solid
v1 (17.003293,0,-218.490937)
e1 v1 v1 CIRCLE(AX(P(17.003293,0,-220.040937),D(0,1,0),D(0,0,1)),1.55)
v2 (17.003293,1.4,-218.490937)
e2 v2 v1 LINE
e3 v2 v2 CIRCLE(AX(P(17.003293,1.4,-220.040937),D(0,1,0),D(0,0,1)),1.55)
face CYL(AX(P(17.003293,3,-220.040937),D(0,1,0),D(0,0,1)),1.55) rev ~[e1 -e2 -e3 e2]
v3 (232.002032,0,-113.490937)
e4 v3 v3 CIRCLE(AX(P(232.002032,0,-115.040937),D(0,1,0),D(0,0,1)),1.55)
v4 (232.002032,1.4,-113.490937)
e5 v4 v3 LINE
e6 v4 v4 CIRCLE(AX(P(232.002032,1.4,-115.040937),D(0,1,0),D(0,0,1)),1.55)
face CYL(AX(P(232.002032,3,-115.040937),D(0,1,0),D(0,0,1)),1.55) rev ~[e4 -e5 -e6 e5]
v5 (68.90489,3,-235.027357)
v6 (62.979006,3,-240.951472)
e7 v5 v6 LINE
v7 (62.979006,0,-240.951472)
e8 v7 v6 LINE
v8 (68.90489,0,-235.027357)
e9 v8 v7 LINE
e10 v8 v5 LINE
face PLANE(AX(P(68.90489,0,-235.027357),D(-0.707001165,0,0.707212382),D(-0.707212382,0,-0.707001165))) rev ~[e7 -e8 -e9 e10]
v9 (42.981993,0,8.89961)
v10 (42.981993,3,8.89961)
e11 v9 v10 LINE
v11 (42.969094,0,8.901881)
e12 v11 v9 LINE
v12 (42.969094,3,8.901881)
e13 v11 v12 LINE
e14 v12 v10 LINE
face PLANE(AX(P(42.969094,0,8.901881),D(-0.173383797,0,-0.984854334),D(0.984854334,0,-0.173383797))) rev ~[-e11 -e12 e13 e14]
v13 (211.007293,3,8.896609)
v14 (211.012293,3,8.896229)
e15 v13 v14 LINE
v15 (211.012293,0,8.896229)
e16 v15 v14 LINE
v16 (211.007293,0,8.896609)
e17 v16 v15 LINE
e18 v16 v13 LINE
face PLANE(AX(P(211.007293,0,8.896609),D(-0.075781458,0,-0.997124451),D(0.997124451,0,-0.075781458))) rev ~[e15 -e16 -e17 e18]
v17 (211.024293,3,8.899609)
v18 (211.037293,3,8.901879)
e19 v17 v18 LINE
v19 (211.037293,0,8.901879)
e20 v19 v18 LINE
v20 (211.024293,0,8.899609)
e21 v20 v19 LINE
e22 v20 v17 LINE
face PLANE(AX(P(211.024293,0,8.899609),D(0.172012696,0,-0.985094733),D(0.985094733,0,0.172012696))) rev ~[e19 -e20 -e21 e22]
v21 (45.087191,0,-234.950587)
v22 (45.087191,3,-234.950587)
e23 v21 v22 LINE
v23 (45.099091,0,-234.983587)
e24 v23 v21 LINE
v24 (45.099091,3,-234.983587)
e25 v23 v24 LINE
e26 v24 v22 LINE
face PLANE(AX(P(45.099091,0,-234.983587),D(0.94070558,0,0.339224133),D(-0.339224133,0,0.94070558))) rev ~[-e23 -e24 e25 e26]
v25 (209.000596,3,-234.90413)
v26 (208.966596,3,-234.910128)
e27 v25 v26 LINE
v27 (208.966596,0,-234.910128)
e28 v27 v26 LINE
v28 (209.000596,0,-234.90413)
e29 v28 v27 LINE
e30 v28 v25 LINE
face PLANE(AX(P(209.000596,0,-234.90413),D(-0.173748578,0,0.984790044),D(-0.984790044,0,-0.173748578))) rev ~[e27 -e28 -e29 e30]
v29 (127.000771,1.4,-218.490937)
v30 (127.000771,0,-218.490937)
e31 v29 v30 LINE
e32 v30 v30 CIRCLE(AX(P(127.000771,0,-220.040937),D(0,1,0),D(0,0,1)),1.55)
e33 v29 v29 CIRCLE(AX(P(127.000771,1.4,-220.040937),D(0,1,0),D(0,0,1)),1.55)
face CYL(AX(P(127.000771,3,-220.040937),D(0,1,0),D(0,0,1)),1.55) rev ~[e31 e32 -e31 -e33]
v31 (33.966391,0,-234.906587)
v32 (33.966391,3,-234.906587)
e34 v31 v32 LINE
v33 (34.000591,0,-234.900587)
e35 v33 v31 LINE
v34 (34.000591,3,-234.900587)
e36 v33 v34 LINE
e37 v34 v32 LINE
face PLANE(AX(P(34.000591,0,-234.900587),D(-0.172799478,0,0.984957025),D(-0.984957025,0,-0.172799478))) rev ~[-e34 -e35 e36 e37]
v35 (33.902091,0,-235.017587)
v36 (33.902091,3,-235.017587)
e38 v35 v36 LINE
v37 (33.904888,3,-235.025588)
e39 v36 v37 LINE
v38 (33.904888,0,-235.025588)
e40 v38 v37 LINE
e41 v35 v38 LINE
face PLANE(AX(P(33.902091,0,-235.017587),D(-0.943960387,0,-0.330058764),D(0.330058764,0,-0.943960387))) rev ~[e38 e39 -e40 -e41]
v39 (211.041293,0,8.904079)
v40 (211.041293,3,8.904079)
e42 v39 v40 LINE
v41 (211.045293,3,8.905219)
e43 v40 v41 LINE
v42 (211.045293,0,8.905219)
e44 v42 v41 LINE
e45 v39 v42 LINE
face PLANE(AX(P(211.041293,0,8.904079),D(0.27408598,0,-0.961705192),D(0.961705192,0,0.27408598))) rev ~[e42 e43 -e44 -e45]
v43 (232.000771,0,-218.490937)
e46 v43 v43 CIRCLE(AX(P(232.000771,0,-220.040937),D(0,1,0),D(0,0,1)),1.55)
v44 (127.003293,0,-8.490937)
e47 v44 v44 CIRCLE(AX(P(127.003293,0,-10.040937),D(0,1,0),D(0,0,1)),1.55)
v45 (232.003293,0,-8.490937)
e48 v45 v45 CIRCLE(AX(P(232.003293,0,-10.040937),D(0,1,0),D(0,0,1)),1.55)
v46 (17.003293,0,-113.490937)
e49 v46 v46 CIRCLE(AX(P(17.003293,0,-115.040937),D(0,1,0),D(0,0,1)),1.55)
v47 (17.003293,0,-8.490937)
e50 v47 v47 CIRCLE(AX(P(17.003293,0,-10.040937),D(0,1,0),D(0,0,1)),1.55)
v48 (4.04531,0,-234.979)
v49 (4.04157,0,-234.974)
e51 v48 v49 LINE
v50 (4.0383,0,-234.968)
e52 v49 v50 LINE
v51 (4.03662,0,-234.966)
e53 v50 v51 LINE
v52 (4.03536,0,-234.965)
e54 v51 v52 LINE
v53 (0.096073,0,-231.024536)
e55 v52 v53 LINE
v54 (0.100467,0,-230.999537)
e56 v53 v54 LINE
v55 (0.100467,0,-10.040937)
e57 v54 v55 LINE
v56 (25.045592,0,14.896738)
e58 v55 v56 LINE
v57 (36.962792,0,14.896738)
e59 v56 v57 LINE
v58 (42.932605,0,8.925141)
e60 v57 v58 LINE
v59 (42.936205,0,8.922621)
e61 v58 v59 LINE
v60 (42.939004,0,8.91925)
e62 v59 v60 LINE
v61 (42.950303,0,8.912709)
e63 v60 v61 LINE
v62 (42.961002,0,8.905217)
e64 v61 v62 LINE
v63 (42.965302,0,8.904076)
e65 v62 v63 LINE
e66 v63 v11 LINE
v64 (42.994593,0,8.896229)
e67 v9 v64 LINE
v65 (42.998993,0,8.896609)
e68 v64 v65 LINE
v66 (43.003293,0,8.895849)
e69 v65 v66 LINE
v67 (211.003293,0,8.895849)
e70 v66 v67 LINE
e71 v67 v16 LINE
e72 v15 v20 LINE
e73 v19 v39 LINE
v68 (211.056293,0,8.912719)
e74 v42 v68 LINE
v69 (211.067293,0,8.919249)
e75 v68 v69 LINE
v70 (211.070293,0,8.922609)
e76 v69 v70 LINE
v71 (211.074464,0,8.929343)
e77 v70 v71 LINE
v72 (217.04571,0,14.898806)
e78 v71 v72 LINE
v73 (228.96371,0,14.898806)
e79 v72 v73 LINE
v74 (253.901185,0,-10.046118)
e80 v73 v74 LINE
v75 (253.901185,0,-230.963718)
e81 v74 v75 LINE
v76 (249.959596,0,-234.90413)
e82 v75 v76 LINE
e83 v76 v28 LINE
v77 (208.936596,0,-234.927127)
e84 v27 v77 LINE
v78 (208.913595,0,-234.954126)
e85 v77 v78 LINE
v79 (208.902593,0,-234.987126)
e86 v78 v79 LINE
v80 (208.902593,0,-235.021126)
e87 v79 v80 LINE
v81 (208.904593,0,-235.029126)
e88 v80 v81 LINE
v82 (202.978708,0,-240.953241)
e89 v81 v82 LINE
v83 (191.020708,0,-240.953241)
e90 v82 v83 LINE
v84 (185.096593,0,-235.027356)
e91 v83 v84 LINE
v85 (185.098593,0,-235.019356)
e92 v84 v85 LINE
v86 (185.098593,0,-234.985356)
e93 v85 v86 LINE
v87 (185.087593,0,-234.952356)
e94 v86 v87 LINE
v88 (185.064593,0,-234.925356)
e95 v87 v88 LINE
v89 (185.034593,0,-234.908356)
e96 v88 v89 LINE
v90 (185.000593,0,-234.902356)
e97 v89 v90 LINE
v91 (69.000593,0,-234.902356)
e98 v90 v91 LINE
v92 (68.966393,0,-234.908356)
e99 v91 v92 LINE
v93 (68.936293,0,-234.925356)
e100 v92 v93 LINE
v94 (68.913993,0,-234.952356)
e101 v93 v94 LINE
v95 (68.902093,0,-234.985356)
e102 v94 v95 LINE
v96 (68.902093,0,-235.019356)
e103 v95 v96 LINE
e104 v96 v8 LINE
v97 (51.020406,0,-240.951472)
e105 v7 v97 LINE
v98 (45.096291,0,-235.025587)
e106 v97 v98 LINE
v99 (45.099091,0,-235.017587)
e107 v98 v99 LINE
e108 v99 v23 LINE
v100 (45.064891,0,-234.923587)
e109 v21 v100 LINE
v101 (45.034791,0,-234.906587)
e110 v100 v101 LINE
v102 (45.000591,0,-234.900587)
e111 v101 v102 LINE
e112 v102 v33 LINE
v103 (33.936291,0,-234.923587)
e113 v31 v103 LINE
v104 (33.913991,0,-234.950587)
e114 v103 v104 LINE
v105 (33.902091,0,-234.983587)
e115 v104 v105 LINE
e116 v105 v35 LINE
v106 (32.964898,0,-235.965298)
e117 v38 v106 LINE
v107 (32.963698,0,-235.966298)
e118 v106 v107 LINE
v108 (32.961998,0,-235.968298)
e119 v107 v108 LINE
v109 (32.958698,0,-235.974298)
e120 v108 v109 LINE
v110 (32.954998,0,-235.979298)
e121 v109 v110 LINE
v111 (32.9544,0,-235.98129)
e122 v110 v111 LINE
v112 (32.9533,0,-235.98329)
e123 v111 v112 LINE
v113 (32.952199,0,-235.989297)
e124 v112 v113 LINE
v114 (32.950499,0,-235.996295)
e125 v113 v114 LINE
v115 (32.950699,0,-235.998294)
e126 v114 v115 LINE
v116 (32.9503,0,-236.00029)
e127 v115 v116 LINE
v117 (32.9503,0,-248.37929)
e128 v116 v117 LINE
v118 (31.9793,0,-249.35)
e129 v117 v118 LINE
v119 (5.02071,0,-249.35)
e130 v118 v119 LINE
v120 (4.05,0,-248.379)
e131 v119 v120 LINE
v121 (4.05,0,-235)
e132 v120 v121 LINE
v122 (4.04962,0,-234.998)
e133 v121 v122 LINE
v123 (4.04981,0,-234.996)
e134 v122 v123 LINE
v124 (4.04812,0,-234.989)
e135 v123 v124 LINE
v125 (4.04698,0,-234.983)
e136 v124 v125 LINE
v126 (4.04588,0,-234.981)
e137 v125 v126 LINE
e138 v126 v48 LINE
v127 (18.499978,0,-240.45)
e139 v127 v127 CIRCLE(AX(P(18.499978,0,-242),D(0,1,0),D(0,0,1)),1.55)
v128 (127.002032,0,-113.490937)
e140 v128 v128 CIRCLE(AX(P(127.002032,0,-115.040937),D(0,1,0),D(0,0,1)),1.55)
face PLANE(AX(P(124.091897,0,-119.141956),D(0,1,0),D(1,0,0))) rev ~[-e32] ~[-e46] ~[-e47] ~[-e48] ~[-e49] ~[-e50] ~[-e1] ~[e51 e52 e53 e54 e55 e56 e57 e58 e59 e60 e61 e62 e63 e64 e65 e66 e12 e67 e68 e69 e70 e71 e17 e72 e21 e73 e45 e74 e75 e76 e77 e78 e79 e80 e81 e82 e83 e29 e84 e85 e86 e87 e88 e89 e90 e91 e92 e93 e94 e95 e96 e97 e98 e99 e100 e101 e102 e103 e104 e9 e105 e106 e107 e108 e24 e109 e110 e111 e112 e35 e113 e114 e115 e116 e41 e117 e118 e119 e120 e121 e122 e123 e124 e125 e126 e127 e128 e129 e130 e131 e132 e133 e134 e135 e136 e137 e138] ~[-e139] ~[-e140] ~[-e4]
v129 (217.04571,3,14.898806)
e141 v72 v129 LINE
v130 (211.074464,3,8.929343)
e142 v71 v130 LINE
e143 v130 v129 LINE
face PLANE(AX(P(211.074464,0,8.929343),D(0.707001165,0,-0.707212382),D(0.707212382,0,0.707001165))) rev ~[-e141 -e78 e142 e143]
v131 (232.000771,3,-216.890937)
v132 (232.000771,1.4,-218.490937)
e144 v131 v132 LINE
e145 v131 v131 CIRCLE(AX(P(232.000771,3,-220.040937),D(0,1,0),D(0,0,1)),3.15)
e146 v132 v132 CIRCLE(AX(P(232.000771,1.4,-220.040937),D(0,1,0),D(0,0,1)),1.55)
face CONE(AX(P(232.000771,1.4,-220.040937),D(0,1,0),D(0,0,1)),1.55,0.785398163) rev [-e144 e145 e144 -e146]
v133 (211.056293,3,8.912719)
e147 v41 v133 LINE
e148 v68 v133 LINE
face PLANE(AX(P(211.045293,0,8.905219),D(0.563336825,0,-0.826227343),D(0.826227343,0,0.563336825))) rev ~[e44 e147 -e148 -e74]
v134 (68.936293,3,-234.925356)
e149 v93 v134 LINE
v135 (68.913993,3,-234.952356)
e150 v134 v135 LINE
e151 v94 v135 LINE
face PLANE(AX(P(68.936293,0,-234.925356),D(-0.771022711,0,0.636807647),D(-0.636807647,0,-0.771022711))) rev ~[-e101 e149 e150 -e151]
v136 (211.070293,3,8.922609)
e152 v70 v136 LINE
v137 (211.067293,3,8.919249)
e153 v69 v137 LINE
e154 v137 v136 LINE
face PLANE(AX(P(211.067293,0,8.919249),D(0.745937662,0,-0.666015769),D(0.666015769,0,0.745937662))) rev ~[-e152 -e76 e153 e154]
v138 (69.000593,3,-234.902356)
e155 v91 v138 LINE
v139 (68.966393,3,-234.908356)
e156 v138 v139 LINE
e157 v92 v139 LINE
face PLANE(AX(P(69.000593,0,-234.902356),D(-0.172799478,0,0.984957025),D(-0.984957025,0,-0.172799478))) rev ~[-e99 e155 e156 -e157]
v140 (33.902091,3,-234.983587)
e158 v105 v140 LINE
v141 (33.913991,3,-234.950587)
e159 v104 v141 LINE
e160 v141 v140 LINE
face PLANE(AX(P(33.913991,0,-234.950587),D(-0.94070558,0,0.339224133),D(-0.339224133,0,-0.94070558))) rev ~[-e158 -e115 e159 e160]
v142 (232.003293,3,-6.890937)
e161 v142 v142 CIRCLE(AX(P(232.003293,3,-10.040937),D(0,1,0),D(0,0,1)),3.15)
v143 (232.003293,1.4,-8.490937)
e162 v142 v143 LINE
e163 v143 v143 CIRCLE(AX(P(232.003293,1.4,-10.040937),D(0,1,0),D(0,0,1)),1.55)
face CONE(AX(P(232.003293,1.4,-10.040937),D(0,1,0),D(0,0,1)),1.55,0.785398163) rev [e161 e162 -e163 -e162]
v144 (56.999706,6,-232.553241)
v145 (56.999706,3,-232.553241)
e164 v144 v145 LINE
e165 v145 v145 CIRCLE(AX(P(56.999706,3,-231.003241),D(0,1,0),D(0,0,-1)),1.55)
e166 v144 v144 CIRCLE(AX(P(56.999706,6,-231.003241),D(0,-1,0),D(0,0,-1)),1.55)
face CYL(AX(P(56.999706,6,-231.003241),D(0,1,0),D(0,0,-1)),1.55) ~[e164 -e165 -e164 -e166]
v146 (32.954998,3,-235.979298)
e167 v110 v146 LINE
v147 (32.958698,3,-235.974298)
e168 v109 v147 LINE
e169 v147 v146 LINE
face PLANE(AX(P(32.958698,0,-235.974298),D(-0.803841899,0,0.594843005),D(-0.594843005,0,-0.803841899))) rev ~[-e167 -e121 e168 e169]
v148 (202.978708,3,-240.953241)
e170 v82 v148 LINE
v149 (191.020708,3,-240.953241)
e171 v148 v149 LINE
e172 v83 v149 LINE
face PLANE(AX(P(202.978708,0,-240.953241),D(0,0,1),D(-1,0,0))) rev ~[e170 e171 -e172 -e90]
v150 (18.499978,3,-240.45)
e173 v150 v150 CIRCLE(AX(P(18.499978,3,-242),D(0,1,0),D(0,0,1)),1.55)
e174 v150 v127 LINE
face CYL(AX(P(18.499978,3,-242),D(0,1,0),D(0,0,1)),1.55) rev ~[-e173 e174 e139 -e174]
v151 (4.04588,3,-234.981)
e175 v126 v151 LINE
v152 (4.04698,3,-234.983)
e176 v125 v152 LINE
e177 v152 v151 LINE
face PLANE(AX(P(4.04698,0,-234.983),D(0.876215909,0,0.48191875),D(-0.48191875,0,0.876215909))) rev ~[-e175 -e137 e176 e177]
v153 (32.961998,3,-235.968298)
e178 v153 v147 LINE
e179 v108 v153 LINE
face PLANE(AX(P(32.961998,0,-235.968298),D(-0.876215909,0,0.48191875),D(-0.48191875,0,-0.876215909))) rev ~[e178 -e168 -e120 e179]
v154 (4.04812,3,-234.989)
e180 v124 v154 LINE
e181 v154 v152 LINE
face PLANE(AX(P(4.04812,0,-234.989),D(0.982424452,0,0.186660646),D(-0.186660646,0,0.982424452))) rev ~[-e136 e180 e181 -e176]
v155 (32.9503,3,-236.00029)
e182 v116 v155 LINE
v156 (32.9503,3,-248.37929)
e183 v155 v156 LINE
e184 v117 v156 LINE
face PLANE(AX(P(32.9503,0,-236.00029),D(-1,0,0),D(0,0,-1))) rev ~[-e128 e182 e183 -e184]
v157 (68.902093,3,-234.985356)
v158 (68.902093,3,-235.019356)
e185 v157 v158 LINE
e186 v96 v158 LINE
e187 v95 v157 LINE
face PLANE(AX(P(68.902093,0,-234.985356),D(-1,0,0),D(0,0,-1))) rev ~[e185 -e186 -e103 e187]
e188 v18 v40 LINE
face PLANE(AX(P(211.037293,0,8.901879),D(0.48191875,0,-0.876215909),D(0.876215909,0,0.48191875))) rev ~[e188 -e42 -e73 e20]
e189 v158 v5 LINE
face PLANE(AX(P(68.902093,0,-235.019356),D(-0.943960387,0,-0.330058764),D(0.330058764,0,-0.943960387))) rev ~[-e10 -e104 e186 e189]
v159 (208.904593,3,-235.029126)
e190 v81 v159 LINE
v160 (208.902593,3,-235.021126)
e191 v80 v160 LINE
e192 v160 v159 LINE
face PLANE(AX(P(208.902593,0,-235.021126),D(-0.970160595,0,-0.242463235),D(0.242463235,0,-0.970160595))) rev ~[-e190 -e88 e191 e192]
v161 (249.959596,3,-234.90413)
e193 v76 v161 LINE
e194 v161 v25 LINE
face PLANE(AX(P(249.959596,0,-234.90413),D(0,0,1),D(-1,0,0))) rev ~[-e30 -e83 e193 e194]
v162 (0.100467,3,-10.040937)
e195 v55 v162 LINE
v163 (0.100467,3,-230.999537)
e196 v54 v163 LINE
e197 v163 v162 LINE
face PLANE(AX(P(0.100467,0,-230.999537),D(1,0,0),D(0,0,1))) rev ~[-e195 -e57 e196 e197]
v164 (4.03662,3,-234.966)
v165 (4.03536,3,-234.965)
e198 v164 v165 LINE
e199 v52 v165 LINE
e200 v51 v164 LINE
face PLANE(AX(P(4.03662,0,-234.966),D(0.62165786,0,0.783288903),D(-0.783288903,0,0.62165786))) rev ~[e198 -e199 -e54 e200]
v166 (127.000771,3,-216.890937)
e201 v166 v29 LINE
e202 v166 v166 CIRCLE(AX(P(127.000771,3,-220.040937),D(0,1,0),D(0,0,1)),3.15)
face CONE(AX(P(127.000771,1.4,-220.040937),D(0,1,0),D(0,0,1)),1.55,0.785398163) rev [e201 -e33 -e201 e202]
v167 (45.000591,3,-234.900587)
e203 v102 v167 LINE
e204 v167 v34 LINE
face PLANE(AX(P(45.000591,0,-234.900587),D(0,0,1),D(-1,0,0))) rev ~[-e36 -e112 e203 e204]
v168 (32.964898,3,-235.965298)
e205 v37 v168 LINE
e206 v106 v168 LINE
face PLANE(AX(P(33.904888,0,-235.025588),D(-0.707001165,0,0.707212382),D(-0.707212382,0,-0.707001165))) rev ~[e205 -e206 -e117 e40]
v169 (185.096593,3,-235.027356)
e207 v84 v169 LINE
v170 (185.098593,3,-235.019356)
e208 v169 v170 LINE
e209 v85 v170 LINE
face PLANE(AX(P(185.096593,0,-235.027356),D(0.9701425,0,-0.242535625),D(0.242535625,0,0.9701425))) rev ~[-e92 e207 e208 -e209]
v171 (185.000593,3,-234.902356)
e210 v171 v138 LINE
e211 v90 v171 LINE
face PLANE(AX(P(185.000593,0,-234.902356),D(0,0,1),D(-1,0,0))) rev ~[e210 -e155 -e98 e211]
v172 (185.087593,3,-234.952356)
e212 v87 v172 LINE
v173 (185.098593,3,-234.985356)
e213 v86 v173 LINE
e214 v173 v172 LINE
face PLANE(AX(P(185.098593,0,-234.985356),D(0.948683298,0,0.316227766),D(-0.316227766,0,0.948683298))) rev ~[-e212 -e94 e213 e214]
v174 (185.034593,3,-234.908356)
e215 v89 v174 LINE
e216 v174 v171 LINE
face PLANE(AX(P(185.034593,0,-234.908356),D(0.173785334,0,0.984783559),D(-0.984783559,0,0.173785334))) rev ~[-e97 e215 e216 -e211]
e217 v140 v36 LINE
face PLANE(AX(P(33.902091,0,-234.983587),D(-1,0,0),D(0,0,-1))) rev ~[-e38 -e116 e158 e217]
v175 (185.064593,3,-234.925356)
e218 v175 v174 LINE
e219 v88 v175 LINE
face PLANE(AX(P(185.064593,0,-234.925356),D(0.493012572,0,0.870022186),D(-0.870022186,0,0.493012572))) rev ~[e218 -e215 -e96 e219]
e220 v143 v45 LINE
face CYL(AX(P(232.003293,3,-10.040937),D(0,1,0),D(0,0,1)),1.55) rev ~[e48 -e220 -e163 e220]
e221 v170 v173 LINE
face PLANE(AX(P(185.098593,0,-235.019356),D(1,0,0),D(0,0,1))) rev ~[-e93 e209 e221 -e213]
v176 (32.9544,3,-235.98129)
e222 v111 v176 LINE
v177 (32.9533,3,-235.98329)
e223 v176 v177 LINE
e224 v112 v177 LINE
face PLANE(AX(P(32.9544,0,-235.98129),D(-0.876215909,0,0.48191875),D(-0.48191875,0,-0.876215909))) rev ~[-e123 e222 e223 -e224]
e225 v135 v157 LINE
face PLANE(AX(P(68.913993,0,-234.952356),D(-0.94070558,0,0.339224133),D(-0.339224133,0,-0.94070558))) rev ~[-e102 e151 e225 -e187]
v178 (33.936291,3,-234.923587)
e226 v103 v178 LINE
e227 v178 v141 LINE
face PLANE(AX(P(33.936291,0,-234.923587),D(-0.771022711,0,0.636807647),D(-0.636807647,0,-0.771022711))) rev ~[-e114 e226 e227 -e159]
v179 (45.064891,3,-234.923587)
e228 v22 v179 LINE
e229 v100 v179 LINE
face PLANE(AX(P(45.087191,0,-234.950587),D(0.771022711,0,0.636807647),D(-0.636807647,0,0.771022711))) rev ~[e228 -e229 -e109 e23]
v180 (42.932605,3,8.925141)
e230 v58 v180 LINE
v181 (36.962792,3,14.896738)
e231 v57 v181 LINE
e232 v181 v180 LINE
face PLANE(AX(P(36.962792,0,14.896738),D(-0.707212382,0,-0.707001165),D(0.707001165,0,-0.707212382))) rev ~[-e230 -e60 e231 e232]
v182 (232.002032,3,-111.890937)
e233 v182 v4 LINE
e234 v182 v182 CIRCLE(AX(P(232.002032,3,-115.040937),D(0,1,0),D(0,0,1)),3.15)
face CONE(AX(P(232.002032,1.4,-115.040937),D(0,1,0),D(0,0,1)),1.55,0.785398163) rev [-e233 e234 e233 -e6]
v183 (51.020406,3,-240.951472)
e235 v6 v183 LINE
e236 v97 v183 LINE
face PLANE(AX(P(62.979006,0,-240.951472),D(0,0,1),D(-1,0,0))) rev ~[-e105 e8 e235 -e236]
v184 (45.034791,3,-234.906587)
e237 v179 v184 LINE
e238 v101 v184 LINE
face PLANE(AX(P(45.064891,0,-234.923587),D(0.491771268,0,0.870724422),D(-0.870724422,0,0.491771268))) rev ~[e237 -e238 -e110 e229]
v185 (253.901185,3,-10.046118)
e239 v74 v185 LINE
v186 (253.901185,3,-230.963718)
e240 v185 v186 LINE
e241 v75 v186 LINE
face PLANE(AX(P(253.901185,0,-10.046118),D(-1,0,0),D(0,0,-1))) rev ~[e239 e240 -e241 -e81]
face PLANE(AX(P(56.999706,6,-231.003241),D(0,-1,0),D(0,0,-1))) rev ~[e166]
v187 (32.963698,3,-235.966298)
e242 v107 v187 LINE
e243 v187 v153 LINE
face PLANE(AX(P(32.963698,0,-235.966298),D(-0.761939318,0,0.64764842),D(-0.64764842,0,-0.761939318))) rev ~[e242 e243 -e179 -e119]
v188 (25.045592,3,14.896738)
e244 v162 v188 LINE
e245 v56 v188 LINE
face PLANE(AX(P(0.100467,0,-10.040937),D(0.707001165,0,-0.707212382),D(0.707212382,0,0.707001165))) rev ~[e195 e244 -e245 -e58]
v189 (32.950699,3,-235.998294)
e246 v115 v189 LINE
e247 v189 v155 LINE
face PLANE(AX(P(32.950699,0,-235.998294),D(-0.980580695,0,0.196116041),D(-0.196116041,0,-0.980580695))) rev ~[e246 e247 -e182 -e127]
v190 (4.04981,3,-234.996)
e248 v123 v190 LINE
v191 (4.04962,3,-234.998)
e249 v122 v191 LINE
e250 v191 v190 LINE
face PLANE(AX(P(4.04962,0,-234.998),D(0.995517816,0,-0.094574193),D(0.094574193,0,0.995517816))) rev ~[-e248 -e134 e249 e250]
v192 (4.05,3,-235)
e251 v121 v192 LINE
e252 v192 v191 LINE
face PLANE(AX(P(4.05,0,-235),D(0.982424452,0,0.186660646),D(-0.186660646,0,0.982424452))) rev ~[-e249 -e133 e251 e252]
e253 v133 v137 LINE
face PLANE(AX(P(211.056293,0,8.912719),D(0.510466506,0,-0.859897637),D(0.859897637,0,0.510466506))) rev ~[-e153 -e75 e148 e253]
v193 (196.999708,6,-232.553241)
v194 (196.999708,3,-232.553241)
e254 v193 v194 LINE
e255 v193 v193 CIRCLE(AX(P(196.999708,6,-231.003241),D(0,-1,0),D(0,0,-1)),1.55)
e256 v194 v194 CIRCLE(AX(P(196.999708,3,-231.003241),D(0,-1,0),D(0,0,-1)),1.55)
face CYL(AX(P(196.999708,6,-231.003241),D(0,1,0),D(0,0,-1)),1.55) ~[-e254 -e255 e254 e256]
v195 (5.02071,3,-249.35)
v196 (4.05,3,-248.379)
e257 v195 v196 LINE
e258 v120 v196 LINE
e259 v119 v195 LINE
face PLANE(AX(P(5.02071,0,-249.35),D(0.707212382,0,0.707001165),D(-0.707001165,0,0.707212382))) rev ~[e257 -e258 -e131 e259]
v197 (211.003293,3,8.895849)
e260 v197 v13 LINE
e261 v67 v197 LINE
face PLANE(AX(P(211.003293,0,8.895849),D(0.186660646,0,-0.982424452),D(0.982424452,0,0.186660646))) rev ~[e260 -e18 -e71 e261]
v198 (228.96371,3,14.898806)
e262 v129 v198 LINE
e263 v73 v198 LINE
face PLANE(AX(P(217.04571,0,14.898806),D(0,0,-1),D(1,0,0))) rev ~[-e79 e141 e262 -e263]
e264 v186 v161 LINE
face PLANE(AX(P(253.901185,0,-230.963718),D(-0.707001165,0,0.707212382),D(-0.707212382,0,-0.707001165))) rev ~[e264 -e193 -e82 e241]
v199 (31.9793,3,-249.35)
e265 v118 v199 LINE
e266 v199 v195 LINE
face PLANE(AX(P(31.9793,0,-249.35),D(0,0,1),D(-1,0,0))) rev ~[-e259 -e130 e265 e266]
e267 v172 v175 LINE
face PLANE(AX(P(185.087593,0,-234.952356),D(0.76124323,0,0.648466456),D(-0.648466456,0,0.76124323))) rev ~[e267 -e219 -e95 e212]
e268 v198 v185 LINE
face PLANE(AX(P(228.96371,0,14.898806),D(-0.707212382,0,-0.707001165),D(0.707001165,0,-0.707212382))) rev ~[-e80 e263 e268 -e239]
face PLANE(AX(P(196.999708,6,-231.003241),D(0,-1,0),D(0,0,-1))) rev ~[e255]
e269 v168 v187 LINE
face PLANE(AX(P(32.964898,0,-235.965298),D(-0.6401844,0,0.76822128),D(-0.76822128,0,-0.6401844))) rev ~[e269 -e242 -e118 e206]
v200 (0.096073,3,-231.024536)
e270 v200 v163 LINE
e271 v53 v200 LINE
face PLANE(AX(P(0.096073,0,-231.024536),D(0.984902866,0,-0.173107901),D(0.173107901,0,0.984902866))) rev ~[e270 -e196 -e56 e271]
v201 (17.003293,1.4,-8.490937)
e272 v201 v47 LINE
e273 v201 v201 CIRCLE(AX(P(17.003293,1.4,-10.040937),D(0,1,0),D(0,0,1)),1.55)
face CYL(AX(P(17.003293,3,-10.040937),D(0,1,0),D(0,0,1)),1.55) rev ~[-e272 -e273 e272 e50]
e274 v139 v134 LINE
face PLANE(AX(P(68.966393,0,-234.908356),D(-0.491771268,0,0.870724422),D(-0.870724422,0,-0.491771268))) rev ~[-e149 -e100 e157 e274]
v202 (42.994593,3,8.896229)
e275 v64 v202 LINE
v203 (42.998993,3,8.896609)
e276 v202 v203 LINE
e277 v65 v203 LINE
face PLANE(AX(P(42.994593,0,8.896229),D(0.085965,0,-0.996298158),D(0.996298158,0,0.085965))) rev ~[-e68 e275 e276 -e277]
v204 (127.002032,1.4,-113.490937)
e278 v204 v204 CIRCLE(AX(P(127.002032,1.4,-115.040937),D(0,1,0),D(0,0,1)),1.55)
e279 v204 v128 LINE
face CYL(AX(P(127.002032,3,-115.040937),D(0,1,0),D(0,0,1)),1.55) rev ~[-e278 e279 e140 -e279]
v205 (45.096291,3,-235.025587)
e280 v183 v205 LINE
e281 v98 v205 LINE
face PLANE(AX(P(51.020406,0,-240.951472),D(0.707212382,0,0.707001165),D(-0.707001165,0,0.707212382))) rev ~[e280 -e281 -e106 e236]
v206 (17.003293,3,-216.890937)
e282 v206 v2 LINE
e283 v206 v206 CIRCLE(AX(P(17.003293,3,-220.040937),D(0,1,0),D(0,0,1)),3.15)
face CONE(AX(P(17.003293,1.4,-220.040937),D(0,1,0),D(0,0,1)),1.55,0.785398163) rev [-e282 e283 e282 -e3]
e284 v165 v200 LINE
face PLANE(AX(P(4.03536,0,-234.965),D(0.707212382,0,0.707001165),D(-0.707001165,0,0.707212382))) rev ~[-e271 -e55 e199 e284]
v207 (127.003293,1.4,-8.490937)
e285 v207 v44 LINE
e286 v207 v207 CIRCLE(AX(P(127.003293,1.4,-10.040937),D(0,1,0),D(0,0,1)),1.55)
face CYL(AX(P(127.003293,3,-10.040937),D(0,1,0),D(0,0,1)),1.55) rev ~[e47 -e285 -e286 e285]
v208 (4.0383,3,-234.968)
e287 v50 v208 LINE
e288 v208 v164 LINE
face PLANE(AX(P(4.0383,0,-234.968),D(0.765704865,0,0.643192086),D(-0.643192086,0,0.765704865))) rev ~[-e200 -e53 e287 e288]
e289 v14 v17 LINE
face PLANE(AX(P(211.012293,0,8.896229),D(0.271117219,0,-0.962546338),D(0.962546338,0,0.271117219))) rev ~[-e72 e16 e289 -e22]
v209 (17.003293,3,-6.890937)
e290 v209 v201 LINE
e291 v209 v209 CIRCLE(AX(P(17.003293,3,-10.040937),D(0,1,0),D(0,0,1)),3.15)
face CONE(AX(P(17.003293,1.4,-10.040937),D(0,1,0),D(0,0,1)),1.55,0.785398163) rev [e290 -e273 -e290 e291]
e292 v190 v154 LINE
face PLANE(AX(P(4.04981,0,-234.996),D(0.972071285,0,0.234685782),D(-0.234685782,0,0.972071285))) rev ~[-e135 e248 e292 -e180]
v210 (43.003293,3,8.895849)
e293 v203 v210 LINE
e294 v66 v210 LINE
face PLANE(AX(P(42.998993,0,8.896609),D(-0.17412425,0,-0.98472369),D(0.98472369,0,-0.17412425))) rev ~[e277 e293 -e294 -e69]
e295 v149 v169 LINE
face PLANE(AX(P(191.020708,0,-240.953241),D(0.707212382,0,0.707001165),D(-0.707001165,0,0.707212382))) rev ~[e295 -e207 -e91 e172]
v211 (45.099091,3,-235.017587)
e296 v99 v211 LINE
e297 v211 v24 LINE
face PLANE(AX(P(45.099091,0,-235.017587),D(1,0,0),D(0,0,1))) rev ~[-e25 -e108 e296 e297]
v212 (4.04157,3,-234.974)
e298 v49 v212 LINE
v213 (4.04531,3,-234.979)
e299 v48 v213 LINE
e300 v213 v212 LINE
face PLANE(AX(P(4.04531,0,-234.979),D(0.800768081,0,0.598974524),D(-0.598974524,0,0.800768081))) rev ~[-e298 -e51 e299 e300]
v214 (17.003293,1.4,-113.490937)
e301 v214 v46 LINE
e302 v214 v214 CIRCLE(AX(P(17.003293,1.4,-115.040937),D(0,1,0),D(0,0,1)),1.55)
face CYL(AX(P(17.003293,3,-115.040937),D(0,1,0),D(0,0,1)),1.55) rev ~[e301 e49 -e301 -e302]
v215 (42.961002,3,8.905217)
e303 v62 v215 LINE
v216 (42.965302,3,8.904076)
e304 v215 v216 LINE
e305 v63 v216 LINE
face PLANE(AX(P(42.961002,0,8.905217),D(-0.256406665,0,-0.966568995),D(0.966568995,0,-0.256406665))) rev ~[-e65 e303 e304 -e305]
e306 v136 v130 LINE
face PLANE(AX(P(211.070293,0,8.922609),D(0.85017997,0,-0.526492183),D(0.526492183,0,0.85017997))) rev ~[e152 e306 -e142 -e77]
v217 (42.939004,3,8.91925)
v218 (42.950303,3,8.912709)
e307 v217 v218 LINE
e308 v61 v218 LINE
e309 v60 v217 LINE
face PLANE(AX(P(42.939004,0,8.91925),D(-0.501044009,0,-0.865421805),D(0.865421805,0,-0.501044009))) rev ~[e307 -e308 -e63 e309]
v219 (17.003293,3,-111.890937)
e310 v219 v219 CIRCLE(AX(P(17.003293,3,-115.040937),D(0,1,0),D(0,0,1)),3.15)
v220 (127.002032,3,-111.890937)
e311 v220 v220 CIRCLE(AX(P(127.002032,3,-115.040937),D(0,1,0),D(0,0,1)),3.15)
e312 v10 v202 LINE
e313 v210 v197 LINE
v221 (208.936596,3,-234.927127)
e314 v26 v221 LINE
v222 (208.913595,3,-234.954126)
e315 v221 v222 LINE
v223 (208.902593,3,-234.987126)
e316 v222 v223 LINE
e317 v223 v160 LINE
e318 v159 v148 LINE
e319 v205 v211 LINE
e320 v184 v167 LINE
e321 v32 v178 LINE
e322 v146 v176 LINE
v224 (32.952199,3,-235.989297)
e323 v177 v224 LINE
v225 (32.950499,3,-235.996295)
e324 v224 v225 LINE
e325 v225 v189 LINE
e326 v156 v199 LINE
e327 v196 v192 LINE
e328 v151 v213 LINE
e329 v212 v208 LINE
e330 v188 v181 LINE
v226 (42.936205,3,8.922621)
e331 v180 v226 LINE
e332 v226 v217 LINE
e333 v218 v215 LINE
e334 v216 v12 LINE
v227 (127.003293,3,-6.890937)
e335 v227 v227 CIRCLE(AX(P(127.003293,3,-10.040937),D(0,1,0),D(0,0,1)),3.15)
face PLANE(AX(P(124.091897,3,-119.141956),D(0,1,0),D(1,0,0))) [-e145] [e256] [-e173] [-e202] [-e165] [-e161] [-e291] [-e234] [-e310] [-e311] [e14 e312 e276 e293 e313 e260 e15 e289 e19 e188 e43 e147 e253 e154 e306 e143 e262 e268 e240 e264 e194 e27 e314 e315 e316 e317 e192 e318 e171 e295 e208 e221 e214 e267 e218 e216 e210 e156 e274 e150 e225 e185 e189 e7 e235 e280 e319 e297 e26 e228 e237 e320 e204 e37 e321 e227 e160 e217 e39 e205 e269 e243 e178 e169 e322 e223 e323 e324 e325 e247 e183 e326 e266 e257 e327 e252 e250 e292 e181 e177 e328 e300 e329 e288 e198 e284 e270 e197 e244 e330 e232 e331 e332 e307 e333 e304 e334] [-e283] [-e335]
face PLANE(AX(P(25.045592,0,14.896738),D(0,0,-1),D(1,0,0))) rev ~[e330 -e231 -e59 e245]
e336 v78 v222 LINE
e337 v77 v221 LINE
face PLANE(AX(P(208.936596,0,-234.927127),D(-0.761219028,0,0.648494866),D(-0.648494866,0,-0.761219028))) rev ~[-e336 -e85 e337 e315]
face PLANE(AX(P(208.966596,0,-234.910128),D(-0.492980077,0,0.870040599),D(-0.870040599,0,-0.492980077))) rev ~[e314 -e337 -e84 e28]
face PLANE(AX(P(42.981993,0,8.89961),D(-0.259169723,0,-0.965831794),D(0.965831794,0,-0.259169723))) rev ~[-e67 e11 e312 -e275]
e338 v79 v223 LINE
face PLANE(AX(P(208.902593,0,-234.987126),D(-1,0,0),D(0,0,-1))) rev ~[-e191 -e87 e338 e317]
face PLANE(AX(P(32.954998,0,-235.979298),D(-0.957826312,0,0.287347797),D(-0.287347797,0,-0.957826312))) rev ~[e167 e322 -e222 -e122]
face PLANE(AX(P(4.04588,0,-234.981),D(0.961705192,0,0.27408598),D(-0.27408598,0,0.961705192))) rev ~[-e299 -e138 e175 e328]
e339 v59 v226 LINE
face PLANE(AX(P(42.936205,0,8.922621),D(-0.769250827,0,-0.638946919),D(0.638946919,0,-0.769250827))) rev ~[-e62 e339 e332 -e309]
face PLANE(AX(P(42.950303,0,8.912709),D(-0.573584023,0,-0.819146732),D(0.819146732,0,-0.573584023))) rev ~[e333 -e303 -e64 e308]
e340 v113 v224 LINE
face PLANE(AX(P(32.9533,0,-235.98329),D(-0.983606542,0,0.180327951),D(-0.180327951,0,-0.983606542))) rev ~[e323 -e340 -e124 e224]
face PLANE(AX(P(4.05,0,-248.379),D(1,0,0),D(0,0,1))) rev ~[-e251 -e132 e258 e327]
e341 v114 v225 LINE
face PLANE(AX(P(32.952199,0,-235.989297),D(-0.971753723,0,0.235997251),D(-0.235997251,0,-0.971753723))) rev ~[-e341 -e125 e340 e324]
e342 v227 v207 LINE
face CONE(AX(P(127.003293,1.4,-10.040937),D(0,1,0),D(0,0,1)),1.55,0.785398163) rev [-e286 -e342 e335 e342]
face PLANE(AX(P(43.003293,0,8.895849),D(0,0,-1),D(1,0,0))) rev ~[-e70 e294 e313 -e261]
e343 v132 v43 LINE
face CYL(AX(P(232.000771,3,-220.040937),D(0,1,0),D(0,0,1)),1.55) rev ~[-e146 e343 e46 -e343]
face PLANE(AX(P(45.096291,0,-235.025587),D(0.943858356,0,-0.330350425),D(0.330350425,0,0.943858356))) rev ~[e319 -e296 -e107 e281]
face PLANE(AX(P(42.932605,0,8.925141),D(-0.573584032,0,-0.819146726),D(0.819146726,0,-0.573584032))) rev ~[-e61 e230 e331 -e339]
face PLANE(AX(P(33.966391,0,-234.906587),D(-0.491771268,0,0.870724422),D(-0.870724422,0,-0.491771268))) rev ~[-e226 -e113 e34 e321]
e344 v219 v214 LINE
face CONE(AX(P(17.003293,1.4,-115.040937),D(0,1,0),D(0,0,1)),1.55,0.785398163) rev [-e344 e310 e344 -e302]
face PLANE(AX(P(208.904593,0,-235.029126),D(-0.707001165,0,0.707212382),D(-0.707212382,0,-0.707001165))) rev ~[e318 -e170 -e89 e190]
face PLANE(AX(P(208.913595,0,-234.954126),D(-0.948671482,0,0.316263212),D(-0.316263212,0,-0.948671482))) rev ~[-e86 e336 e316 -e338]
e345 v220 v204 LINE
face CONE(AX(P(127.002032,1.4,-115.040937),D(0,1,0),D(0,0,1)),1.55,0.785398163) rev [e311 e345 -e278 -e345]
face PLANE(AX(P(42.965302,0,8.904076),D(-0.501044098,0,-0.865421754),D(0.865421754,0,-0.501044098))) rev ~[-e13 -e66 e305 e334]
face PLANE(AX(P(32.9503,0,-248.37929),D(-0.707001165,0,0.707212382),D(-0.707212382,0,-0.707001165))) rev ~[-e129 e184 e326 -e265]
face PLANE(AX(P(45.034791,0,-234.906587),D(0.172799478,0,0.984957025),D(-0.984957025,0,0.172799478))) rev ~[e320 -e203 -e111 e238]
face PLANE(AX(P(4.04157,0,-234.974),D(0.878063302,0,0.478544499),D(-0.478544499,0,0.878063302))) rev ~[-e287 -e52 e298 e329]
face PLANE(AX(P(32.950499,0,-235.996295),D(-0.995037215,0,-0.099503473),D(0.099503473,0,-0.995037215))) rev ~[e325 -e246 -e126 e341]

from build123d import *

# Parameters (mm, degrees)
BOSS_EXTRUDE1_DEPTH = 3
SKETCH2_R           = 1.55
CUT_EXTRUDE1_DEPTH  = 356.879522089
BOSS_EXTRUDE3_START = -6
SKETCH3_R           = 1.55
BOSS_EXTRUDE3_DEPTH = 6
CHAMFER1_SIZE       = 1.6


with BuildPart() as part:
    # Sketch1 → Boss-Extrude1 (new body)
    with BuildSketch(Plane(origin=(0, 0, 0), x_dir=(1, 0, 0), z_dir=(0, 1, 0))):
        Polygon((5.02071, 249.35), (4.05, 248.379), (4.05, 235), (4.04962, 234.998), (4.04981, 234.996), (4.04812, 234.989), (4.04698, 234.983), (4.04588, 234.981), (4.04531, 234.979), (4.04157, 234.974), (4.0383, 234.968), (4.03662, 234.966), (4.03536, 234.965), (0.096072974, 231.02453611), (0.100466918, 230.999536627), (0.100466918, 10.040936627), (25.04559171, -14.896738024), (36.96279171, -14.896738024), (42.932604901, -8.925141349), (42.936204527, -8.922620814), (42.939004026, -8.919250398), (42.950303055, -8.91270872), (42.961001942, -8.905217131), (42.965301773, -8.904076493), (42.969093555, -8.901881205), (42.981993376, -8.899610189), (42.99459311, -8.896229197), (42.99899314, -8.896608851), (43.00329308, -8.895848512), (211.00329308, -8.895848512), (211.00729308, -8.896608512), (211.01229308, -8.896228512), (211.02429308, -8.899608512), (211.03729308, -8.901878512), (211.04129308, -8.904078512), (211.04529308, -8.905218512), (211.05629308, -8.912718512), (211.06729308, -8.919248512), (211.07029308, -8.922608512), (211.07446368, -8.9293432), (217.045710314, -14.898806454), (228.963710314, -14.898806454), (253.901184996, 10.046118309), (253.901184996, 230.963718309), (249.95959644, 234.904129665), (209.00059644, 234.904129665), (208.966596216, 234.910128396), (208.936595582, 234.927127275), (208.913594574, 234.954126417), (208.902593341, 234.987126006), (208.902593341, 235.021126006), (208.904592744, 235.029126155), (202.978707894, 240.953241173), (191.020707894, 240.953241173), (185.096592876, 235.027356323), (185.098592876, 235.019356323), (185.098592876, 234.985356323), (185.087592876, 234.952356323), (185.064592876, 234.925356323), (185.034592876, 234.908356323), (185.000592876, 234.902356323), (69.000592876, 234.902356323), (68.966392876, 234.908356323), (68.936292876, 234.925356323), (68.913992876, 234.952356323), (68.902092876, 234.985356323), (68.902092876, 235.019356323), (68.904890404, 235.027357188), (62.979005555, 240.951472206), (51.020405555, 240.951472206), (45.096290537, 235.025587356), (45.099090537, 235.017587356), (45.099090537, 234.983587356), (45.087190537, 234.950587356), (45.064890537, 234.923587356), (45.034790537, 234.906587356), (45.000590537, 234.900587356), (34.000590537, 234.900587356), (33.966390537, 234.906587356), (33.936290537, 234.923587356), (33.913990537, 234.950587356), (33.902090537, 234.983587356), (33.902090537, 235.017587356), (33.904888065, 235.025588221), (32.964897694, 235.965297853), (32.963697694, 235.966297853), (32.961997694, 235.968297853), (32.958697694, 235.974297853), (32.954997694, 235.979297853), (32.954400114, 235.981289787), (32.953300114, 235.983289787), (32.95219879, 235.989297006), (32.950499346, 235.996294719), (32.950699249, 235.998293754), (32.9503, 236.00029), (32.9503, 248.37929), (31.9793, 249.35), align=None)
    extrude(amount=BOSS_EXTRUDE1_DEPTH)

    # Sketch2 → Cut-Extrude1 (cut, through all)
    with BuildSketch(Plane(origin=(0, 3, 0), x_dir=(1, 0, 0), z_dir=(0, 1, 0))):
        with Locations(Location((17.00329308, 10.040936627, 0), (0, 0, 270))):
            Circle(SKETCH2_R)
        with Locations(Location((127.00329308, 10.040936627, 0), (0, 0, 270))):
            Circle(SKETCH2_R)
        with Locations(Location((232.003293088, 10.040936627, 0), (0, 0, 270))):
            Circle(SKETCH2_R)
        with Locations(Location((232.002032216, 115.040936627, 0), (0, 0, 270))):
            Circle(SKETCH2_R)
        with Locations(Location((232.000771344, 220.040936627, 0), (0, 0, 270))):
            Circle(SKETCH2_R)
        with Locations(Location((127.002032208, 115.040936627, 0), (0, 0, 270))):
            Circle(SKETCH2_R)
        with Locations(Location((17.00329308, 115.040936627, 0), (0, 0, 270))):
            Circle(SKETCH2_R)
        with Locations(Location((17.00329308, 220.040936627, 0), (0, 0, 270))):
            Circle(SKETCH2_R)
        with Locations(Location((127.000771337, 220.040936627, 0), (0, 0, 270))):
            Circle(SKETCH2_R)
        with Locations(Location((196.999707894, 231.003241173, 0), (0, 0, 270))):
            Circle(SKETCH2_R)
        with Locations(Location((56.999705555, 231.003241173, 0), (0, 0, 270))):
            Circle(SKETCH2_R)
        with Locations(Location((18.499978099, 242, 0), (0, 0, 270))):
            Circle(SKETCH2_R)
    extrude(amount=-CUT_EXTRUDE1_DEPTH, mode=Mode.SUBTRACT)

    # Sketch3 → Boss-Extrude3 (add)
    with BuildSketch(Plane.XZ.offset(BOSS_EXTRUDE3_START)):
        with Locations(Location((56.999705555, -231.003241173, 0), (0, 0, 270))):
            Circle(SKETCH3_R)
        with Locations(Location((196.999707894, -231.003241173, 0), (0, 0, 270))):
            Circle(SKETCH3_R)
    extrude(amount=BOSS_EXTRUDE3_DEPTH)

    # Chamfer1
    chamfer1_edges = [part.edges().sort_by_distance(p)[0] for p in [
        (232.000771344, 3, -221.590936627),
        (232.002032216, 3, -116.590936627),
        (232.003293088, 3, -11.590936627),
        (127.002032208, 3, -116.590936627),
        (17.00329308, 3, -116.590936627),
        (127.000771337, 3, -221.590936627),
        (17.00329308, 3, -221.590936627),
        (127.00329308, 3, -11.590936627),
        (17.00329308, 3, -11.590936627),
    ]]
    chamfer(chamfer1_edges, length=CHAMFER1_SIZE)


solid = part.part
